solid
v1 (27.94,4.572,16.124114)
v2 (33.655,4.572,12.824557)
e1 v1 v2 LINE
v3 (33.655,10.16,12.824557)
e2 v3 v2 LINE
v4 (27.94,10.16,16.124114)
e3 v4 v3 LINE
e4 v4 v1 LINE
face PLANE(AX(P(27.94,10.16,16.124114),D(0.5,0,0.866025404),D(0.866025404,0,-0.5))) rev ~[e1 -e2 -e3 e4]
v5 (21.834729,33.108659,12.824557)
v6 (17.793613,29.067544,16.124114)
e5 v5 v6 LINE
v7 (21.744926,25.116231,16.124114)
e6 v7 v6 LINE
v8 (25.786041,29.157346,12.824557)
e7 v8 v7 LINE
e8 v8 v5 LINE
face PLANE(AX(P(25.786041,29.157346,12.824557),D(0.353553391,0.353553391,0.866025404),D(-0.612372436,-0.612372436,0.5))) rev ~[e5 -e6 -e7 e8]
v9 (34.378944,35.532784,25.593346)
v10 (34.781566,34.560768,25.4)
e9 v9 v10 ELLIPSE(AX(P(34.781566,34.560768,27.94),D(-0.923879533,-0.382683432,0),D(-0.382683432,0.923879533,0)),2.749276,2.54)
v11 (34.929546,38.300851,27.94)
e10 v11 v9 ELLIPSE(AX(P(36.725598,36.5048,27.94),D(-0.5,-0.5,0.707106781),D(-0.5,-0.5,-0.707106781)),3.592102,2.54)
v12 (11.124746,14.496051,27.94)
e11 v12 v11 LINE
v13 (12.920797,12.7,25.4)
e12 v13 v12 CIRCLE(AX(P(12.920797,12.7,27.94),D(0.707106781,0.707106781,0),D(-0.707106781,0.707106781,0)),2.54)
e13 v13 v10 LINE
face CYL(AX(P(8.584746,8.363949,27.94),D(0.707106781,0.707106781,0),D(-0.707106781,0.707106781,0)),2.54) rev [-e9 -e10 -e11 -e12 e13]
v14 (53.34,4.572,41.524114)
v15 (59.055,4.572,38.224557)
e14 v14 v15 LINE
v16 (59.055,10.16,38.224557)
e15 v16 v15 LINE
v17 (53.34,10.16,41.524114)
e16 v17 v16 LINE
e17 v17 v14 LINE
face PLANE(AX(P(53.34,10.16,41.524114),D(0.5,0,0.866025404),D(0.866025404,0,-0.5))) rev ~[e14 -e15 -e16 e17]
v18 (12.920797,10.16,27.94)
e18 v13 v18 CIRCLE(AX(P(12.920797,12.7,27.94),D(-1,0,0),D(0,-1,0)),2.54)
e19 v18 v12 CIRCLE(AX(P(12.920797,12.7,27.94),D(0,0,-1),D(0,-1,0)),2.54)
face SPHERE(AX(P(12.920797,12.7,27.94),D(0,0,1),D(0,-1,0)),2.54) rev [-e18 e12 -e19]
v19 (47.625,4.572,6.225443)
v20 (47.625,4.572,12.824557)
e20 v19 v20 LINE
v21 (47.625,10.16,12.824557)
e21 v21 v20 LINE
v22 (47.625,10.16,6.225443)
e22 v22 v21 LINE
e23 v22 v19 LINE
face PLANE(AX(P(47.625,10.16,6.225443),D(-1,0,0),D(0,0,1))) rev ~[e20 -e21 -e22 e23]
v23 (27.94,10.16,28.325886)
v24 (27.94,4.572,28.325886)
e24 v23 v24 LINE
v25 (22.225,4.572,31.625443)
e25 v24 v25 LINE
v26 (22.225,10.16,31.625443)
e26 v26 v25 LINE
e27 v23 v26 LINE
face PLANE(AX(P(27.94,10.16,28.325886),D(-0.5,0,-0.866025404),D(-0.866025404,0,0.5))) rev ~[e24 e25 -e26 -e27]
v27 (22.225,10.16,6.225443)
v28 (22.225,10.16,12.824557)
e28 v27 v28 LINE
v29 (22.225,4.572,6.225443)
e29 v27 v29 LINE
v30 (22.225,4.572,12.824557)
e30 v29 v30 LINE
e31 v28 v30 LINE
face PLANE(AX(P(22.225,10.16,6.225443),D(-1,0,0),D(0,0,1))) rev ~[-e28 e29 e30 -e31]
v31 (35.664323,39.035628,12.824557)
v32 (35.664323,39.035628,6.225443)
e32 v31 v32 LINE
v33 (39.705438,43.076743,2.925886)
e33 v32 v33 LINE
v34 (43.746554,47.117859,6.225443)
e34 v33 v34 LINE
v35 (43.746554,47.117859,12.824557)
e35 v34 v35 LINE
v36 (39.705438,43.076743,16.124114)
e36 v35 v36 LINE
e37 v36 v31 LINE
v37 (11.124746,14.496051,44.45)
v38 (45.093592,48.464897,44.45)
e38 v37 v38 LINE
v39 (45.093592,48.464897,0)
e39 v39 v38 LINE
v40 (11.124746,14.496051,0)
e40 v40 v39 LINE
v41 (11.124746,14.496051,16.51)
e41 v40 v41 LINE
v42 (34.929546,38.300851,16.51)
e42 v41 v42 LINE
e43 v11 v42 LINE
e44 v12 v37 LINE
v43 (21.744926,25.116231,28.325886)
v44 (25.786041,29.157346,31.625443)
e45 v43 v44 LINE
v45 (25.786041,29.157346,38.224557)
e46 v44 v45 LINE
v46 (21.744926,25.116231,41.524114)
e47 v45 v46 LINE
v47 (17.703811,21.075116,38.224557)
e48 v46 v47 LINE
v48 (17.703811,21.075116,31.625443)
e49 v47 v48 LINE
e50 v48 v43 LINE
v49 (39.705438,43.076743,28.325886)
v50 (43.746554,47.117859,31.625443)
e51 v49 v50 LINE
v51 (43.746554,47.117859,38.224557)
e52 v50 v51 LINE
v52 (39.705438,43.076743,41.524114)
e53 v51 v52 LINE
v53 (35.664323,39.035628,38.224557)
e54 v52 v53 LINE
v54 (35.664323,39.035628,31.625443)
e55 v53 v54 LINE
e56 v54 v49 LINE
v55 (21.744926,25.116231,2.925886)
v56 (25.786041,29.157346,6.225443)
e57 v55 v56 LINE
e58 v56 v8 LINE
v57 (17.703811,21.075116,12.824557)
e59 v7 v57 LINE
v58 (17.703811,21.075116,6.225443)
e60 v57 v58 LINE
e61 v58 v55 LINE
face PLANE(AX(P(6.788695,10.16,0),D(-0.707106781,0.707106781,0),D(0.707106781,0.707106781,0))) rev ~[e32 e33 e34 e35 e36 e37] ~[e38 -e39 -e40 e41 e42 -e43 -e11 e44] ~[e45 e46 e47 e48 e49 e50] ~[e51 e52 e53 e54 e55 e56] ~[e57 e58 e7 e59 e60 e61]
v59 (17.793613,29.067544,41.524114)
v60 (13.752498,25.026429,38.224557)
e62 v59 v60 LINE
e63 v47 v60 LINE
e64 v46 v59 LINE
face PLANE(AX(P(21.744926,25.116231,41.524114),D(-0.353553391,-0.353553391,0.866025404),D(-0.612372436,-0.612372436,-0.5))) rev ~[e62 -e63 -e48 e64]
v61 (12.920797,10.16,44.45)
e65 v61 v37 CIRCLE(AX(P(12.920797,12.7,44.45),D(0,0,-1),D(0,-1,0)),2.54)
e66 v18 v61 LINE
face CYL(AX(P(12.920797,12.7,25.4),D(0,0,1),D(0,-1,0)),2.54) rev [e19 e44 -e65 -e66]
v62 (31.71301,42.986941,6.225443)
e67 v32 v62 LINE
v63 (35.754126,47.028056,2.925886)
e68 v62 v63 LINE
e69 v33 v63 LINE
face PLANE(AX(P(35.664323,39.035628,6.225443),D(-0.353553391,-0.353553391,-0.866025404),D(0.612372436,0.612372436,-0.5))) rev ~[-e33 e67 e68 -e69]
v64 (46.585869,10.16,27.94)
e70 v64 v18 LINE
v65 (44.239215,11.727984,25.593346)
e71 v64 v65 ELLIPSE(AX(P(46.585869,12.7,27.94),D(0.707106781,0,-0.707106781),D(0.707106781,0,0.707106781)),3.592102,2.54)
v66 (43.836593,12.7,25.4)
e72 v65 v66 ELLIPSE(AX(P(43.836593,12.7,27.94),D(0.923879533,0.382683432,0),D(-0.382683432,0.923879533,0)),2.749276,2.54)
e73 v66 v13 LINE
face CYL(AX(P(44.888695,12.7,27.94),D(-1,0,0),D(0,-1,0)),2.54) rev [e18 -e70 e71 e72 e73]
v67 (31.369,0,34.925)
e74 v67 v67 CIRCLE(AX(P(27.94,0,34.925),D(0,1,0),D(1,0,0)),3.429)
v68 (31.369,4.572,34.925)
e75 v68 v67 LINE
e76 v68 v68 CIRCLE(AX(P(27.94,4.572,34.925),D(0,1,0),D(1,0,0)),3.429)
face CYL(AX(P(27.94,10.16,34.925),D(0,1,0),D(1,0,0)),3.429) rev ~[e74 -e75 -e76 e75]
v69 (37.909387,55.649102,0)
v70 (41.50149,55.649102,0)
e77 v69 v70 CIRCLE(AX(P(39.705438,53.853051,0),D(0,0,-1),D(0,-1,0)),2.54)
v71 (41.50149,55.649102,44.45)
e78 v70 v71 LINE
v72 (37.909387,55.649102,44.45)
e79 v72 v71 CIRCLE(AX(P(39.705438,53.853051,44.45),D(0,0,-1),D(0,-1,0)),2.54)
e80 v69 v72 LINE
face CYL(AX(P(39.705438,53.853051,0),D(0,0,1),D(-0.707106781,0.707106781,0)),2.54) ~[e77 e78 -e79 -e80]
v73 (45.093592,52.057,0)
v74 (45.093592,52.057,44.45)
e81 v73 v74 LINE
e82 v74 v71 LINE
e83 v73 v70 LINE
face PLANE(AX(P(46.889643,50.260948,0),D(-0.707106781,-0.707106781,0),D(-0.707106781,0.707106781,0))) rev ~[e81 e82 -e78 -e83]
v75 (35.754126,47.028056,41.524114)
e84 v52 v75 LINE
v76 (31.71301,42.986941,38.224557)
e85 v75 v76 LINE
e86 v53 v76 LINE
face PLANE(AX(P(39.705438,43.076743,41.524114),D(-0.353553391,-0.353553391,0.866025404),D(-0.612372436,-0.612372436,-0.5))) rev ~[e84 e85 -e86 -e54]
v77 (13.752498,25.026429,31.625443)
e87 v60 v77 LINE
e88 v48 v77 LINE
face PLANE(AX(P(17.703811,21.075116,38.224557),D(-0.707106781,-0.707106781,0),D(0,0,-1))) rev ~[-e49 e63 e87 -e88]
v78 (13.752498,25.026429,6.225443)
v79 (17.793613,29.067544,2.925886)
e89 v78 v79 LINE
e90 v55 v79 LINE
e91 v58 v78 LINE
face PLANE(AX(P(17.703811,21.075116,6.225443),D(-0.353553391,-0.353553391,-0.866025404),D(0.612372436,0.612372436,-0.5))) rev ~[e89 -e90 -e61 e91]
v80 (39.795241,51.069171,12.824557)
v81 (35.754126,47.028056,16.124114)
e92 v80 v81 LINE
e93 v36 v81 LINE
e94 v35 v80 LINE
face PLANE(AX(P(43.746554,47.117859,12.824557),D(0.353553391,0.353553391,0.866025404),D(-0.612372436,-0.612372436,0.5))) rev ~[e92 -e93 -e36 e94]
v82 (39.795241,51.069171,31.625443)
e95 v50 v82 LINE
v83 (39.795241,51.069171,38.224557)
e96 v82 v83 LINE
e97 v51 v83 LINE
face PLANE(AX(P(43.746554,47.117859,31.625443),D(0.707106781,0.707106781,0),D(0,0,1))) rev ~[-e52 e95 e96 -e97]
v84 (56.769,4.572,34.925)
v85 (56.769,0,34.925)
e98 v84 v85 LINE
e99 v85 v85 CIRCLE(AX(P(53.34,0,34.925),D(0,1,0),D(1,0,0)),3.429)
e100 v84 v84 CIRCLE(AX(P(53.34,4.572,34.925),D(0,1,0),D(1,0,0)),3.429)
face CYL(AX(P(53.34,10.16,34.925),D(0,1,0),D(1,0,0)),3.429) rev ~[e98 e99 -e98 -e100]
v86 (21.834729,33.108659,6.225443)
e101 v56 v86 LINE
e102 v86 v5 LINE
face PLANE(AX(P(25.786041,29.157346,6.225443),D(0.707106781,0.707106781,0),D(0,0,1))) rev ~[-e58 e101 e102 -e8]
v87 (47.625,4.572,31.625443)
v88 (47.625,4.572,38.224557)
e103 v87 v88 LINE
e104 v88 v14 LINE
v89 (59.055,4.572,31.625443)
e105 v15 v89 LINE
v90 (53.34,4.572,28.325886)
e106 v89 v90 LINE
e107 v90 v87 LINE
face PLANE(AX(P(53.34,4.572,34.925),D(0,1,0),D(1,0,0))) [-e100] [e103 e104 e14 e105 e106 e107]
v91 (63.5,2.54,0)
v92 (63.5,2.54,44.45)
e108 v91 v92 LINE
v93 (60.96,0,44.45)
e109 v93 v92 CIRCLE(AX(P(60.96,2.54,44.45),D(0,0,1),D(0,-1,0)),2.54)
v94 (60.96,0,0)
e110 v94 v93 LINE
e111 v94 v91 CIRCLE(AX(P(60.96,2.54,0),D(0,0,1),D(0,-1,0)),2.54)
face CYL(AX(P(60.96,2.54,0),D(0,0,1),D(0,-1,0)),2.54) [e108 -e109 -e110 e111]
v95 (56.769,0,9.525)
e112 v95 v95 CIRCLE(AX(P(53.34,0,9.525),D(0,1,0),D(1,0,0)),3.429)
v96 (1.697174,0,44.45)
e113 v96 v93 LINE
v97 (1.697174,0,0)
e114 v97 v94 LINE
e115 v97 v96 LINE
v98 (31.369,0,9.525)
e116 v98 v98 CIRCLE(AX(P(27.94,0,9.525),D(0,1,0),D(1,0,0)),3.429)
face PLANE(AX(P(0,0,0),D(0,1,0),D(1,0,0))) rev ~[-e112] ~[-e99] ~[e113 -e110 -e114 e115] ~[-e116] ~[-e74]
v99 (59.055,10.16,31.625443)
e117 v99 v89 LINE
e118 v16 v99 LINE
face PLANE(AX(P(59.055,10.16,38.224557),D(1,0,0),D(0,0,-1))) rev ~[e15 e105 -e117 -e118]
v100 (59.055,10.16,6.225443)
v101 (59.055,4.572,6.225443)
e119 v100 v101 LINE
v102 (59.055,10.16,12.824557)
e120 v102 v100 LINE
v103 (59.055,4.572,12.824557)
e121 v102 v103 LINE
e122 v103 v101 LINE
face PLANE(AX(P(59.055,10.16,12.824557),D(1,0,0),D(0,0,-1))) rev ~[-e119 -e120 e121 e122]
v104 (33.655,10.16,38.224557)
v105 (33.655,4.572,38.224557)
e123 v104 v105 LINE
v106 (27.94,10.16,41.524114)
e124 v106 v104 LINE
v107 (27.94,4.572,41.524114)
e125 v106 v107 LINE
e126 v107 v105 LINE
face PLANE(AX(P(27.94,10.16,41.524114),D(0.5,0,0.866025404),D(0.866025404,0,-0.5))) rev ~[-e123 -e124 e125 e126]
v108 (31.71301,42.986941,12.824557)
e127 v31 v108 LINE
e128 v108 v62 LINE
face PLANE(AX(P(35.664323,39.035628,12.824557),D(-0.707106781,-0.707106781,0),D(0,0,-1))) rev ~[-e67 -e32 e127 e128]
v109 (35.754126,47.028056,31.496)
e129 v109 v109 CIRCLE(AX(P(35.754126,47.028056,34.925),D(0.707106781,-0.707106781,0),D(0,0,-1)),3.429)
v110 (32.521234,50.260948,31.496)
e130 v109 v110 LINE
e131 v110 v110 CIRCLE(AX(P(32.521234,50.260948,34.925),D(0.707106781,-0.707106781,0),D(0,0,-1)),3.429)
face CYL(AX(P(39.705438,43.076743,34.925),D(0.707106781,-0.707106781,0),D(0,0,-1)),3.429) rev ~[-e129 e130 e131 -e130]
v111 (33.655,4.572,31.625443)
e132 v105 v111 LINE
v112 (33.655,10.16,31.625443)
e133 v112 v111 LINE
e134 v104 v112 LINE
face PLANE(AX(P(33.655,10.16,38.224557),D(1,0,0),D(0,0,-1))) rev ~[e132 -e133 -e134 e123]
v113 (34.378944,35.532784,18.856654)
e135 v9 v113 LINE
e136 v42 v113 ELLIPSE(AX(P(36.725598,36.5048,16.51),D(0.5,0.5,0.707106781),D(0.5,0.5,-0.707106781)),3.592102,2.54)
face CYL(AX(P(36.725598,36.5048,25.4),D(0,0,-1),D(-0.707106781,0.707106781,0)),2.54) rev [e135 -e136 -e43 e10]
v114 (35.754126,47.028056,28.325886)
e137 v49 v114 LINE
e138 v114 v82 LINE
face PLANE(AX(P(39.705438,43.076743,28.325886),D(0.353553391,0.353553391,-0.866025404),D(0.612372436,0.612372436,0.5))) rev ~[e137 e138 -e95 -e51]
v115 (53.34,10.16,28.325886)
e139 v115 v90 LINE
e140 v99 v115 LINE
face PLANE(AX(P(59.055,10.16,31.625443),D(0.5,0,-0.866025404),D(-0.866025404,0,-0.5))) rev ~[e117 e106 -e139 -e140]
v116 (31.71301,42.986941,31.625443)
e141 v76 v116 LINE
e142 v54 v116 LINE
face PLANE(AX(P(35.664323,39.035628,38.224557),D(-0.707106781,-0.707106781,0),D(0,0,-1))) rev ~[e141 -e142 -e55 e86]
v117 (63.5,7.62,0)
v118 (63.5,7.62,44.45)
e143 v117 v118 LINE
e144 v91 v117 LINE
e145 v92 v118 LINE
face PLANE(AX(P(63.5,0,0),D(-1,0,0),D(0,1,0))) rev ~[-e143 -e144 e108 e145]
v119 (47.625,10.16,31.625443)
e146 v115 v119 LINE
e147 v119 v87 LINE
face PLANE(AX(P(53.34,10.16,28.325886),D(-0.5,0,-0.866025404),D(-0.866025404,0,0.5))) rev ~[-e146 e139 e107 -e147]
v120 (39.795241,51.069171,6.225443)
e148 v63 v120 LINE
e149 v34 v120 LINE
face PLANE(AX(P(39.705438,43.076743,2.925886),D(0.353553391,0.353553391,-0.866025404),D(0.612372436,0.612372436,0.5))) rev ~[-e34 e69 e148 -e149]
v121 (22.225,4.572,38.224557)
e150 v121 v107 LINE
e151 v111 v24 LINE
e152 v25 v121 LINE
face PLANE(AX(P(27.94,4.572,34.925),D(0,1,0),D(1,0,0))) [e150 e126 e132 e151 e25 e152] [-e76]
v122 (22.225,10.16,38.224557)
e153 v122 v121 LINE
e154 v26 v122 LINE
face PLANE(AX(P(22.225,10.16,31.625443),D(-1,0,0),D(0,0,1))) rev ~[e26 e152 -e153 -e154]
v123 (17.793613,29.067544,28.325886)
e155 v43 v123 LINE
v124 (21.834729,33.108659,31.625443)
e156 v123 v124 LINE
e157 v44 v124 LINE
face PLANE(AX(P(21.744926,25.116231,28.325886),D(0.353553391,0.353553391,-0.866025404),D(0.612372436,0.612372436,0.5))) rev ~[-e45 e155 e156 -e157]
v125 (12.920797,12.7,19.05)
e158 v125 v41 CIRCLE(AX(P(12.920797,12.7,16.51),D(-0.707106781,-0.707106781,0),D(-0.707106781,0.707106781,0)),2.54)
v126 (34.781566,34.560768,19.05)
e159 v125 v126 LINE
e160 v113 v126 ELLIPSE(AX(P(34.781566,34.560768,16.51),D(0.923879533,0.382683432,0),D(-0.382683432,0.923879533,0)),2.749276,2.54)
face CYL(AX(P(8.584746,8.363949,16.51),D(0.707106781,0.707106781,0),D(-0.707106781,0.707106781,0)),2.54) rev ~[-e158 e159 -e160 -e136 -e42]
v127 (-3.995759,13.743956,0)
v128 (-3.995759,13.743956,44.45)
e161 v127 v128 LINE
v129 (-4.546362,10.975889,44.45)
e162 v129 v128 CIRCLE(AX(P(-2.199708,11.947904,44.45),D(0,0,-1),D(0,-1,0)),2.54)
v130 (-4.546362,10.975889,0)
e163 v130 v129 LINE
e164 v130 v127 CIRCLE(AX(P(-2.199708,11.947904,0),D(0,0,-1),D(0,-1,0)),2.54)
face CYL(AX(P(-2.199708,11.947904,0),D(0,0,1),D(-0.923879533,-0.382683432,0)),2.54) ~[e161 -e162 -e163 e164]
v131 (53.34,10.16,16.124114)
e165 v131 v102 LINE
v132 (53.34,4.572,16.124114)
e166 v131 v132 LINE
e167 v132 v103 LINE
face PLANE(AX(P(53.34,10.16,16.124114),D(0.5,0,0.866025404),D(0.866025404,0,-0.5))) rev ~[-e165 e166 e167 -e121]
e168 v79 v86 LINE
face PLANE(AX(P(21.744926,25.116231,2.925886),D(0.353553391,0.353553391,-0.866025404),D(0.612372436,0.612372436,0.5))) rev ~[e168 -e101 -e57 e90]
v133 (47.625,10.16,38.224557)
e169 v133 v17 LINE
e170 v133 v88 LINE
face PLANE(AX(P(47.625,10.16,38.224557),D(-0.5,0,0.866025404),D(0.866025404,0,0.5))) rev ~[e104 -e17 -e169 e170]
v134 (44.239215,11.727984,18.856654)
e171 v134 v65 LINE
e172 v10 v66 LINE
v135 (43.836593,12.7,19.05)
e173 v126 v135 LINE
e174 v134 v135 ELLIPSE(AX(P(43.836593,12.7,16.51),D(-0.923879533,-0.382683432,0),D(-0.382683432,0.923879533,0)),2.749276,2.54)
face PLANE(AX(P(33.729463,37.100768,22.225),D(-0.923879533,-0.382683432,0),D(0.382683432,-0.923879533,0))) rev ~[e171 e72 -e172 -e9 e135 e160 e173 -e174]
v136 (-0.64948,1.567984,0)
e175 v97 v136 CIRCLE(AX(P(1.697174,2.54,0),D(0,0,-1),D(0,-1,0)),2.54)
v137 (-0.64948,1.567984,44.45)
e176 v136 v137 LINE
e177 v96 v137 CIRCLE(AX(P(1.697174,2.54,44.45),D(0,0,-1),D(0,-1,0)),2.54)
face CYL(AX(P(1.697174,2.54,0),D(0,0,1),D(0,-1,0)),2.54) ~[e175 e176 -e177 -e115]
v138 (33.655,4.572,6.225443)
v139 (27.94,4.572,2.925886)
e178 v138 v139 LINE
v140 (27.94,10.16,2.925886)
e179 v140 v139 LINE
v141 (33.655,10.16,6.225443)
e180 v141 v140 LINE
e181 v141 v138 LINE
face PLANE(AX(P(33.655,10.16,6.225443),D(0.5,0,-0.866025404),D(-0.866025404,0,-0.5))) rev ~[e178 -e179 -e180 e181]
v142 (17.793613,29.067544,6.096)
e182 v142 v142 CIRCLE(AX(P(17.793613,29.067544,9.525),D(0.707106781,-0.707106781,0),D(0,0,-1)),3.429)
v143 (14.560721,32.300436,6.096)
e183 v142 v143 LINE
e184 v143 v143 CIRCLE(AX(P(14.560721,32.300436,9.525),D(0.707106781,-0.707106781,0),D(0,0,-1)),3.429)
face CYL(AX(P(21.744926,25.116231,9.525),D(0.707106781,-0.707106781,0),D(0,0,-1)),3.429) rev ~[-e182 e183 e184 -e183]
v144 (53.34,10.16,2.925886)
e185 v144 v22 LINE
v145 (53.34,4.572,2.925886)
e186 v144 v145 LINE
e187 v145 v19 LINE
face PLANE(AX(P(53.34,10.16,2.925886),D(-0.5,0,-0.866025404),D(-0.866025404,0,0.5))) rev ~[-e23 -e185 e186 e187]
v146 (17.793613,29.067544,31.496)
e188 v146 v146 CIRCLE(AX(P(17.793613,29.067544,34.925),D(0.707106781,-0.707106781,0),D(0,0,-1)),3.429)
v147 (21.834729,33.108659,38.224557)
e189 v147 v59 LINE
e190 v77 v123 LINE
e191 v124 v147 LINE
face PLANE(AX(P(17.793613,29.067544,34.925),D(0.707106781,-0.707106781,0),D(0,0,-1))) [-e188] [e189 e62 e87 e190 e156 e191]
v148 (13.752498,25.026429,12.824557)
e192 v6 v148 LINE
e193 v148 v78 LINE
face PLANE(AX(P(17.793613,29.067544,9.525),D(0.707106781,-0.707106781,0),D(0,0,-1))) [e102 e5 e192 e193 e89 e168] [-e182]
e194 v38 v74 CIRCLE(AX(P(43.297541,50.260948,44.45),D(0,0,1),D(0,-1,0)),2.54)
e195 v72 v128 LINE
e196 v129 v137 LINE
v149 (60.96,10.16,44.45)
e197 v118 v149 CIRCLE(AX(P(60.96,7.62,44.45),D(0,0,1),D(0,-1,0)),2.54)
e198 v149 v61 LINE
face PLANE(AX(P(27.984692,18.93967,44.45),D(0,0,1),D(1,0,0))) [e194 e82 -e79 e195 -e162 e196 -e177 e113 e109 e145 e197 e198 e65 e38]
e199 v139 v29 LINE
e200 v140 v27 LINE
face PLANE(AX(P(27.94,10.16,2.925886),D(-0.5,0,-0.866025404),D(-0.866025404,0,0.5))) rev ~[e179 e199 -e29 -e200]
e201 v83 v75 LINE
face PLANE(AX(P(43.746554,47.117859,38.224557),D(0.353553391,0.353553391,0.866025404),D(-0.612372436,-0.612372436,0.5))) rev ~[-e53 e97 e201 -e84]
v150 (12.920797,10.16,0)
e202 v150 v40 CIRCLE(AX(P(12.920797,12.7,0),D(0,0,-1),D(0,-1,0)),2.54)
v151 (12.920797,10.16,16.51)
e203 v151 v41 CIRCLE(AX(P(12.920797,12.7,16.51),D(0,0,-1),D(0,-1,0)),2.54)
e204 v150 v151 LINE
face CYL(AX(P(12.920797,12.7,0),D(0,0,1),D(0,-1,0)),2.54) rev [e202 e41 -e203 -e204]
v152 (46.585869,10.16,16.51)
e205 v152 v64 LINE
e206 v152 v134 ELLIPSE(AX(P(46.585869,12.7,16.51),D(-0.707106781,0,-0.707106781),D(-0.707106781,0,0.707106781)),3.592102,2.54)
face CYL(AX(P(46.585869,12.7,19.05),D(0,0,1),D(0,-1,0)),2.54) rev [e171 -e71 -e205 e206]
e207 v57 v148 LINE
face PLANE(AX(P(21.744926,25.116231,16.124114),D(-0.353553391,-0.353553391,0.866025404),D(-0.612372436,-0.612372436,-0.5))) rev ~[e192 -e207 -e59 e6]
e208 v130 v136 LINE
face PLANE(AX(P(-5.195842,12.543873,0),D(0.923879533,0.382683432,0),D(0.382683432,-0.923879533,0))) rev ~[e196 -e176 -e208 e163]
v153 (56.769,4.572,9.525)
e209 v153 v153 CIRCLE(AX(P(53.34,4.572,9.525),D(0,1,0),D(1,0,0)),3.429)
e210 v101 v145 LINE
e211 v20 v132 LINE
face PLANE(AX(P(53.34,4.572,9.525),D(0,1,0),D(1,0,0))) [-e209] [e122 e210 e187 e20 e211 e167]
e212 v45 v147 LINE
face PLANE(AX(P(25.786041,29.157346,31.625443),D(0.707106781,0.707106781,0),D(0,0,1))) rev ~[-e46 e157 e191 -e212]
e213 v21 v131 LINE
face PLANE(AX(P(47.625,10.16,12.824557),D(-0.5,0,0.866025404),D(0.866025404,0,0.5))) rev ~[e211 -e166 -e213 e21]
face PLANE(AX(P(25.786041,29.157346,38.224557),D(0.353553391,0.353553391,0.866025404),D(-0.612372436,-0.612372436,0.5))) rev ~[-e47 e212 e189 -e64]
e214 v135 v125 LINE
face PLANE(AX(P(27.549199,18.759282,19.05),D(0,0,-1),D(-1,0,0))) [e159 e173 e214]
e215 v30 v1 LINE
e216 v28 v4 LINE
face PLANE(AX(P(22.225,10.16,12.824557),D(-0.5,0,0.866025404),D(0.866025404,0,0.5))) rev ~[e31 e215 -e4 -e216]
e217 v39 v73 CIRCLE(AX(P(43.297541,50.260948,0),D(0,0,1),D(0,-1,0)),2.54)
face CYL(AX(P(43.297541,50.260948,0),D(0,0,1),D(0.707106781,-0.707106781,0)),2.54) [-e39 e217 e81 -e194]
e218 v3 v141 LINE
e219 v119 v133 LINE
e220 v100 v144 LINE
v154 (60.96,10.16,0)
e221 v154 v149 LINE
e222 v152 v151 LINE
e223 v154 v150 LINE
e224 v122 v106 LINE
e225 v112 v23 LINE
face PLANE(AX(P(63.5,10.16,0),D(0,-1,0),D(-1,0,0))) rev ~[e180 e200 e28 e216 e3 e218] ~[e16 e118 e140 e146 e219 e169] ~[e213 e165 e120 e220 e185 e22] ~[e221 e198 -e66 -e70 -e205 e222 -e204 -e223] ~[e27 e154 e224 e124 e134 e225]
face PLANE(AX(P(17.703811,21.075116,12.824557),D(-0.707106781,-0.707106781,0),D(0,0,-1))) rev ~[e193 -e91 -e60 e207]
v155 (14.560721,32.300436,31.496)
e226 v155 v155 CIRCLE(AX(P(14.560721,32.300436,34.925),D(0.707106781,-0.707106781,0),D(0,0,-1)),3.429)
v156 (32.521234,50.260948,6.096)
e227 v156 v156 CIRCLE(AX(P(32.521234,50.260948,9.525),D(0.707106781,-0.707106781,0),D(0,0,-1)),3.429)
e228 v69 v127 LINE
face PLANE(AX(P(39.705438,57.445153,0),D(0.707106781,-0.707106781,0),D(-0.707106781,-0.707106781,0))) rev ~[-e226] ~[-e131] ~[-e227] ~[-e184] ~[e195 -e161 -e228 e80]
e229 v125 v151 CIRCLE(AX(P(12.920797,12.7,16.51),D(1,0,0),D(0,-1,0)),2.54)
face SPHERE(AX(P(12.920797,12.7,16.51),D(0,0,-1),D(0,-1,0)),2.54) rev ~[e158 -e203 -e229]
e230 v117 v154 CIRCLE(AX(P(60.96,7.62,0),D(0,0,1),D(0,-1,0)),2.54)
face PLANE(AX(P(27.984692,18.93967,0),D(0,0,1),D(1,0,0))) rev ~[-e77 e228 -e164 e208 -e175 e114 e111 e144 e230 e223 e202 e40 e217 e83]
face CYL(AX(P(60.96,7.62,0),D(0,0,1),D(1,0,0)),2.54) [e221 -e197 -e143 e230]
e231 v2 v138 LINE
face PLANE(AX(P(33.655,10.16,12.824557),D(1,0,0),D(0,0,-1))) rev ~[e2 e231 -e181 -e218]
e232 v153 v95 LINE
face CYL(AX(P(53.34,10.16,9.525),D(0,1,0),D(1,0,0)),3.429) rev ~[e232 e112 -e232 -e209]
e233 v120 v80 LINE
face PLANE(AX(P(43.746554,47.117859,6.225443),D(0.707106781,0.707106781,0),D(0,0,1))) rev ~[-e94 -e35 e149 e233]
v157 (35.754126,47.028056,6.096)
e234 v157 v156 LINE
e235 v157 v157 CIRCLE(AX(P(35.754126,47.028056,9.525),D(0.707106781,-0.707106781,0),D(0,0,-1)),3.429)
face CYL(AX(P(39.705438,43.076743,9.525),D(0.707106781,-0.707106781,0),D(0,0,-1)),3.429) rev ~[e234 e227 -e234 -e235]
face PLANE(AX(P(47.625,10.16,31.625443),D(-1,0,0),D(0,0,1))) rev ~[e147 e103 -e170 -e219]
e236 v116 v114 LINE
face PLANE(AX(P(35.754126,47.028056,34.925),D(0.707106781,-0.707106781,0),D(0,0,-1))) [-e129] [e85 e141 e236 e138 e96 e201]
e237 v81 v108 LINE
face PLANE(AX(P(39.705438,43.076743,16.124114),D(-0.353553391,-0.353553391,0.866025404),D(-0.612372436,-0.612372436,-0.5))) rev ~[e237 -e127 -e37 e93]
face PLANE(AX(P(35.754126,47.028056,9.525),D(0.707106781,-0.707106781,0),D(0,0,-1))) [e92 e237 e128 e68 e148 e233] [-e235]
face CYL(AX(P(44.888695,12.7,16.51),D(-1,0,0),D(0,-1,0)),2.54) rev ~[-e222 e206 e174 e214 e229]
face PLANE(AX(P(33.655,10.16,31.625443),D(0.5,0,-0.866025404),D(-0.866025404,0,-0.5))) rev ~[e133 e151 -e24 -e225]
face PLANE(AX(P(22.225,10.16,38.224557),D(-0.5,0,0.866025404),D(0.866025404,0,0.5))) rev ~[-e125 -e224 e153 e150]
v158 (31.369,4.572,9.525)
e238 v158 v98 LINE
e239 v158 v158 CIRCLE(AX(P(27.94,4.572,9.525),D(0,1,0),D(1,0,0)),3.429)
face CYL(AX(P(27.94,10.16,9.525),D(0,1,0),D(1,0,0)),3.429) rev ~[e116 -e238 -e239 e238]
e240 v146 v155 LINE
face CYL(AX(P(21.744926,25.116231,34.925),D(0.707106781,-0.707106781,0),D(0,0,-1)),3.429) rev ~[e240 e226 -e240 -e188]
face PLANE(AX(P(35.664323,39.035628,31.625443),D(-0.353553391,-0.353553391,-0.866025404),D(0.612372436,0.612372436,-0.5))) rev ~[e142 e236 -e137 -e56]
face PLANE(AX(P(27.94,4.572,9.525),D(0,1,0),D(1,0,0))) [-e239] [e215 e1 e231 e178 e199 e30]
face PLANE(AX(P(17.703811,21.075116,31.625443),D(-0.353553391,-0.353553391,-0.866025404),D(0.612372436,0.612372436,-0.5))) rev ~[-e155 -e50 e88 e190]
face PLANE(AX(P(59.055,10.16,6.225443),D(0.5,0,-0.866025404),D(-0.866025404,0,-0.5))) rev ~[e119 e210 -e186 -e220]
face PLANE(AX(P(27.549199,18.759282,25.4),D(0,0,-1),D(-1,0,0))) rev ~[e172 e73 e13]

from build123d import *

# Parameters (mm, degrees)
BOSS_EXTRUDE1_DEPTH = 44.45
SKETCH2_R           = 3.429
CUT_EXTRUDE1_DEPTH  = 44.45
SKETCH3_R           = 3.429
CUT_EXTRUDE2_DEPTH  = 44.45
CUT_EXTRUDE3_DEPTH  = 5.588
CUT_EXTRUDE4_DEPTH  = 5.588
BOSS_EXTRUDE2_DEPTH = 3.175
FILLET1_R           = 2.54


with BuildPart() as part:
    # Sketch1 → Boss-Extrude1 (new body)
    with BuildSketch(Plane.XY):
        Polygon((0, 0), (63.5, 0), (63.5, 10.16), (6.788694961, 10.16), (46.889643324, 50.260948363), (39.705438427, 57.44515326), (-5.195842178, 12.543872654), align=None)
    extrude(amount=BOSS_EXTRUDE1_DEPTH)

    # Sketch2 → Cut-Extrude1 (cut)
    with BuildSketch(Plane(origin=(0, 10.16, 0), x_dir=(1, 0, 0), z_dir=(0, 1, 0))):
        with Locations((53.34, -34.925)):
            Circle(SKETCH2_R)
        with Locations((53.34, -9.525)):
            Circle(SKETCH2_R)
        with Locations((27.94, -9.525)):
            Circle(SKETCH2_R)
        with Locations((27.94, -34.925)):
            Circle(SKETCH2_R)
    extrude(amount=-CUT_EXTRUDE1_DEPTH, mode=Mode.SUBTRACT)

    # Sketch3 → Cut-Extrude2 (cut)
    with BuildSketch(Plane(origin=(-1.685652519, 1.685652519, 0), x_dir=(0, 0, -1), z_dir=(0.707106781, -0.707106781, 0))):
        with Locations((-9.525, 33.135842178)):
            Circle(SKETCH3_R)
        with Locations((-9.525, 58.535842178)):
            Circle(SKETCH3_R)
        with Locations((-34.925, 58.535842178)):
            Circle(SKETCH3_R)
        with Locations((-34.925, 33.135842178)):
            Circle(SKETCH3_R)
    extrude(amount=-CUT_EXTRUDE2_DEPTH, mode=Mode.SUBTRACT)

    # Sketch4 → Cut-Extrude3 (cut)
    with BuildSketch(Plane(origin=(0, 10.16, 0), x_dir=(1, 0, 0), z_dir=(0, 1, 0))):
        Polygon((22.225, -31.625443212), (22.225, -38.224556788), (27.94, -41.524113577), (33.655, -38.224556788), (33.655, -31.625443212), (27.94, -28.325886423), align=None)
        Polygon((47.625, -31.625443212), (47.625, -38.224556788), (53.34, -41.524113577), (59.055, -38.224556788), (59.055, -31.625443212), (53.34, -28.325886423), align=None)
        Polygon((22.225, -6.225443212), (22.225, -12.824556788), (27.94, -16.124113577), (33.655, -12.824556788), (33.655, -6.225443212), (27.94, -2.925886423), align=None)
        Polygon((47.625, -6.225443212), (47.625, -12.824556788), (53.34, -16.124113577), (59.055, -12.824556788), (59.055, -6.225443212), (53.34, -2.925886423), align=None)
    extrude(amount=-CUT_EXTRUDE3_DEPTH, mode=Mode.SUBTRACT)

    # Sketch5 → Cut-Extrude4 (cut)
    with BuildSketch(Plane(origin=(-1.685652519, 1.685652519, 0), x_dir=(0, 0, -1), z_dir=(0.707106781, -0.707106781, 0))):
        Polygon((-2.925886423, 58.535842178), (-6.225443212, 64.250842178), (-12.824556788, 64.250842178), (-16.124113577, 58.535842178), (-12.824556788, 52.820842178), (-6.225443212, 52.820842178), align=None)
        Polygon((-28.325886423, 58.535842178), (-31.625443212, 64.250842178), (-38.224556788, 64.250842178), (-41.524113577, 58.535842178), (-38.224556788, 52.820842178), (-31.625443212, 52.820842178), align=None)
        Polygon((-2.925886423, 33.135842178), (-6.225443212, 38.850842178), (-12.824556788, 38.850842178), (-16.124113577, 33.135842178), (-12.824556788, 27.420842178), (-6.225443212, 27.420842178), align=None)
        Polygon((-28.325886423, 33.135842178), (-31.625443212, 38.850842178), (-38.224556788, 38.850842178), (-41.524113577, 33.135842178), (-38.224556788, 27.420842178), (-31.625443212, 27.420842178), align=None)
    extrude(amount=-CUT_EXTRUDE4_DEPTH, mode=Mode.SUBTRACT)

    # Sketch6 → Boss-Extrude2 (add, symmetric)
    with BuildSketch(Plane.XY.offset(22.225)):
        Polygon((6.788694961, 10.16), (33.729463324, 37.100768363), (44.888694961, 10.16), align=None)
    extrude(amount=BOSS_EXTRUDE2_DEPTH, both=True)

    # Fillet1
    fillet1_edges = [part.edges().sort_by_distance(p)[0] for p in [
        (-5.195842178, 12.543872654, 22.225),
        (39.705438427, 57.44515326, 22.225),
        (46.889643324, 50.260948363, 22.225),
        (6.788694961, 10.16, 34.925),
        (63.5, 10.16, 22.225),
        (63.5, 0, 22.225),
        (0, 0, 22.225),
        (6.788694961, 10.16, 9.525),
        (25.838694961, 10.16, 19.05),
        (44.888694961, 10.16, 22.225),
        (20.259079143, 23.630384182, 19.05),
        (33.729463324, 37.100768363, 22.225),
        (25.838694961, 10.16, 25.4),
        (20.259079143, 23.630384182, 25.4),
    ]]
    fillet(fillet1_edges, radius=FILLET1_R)


solid = part.part
